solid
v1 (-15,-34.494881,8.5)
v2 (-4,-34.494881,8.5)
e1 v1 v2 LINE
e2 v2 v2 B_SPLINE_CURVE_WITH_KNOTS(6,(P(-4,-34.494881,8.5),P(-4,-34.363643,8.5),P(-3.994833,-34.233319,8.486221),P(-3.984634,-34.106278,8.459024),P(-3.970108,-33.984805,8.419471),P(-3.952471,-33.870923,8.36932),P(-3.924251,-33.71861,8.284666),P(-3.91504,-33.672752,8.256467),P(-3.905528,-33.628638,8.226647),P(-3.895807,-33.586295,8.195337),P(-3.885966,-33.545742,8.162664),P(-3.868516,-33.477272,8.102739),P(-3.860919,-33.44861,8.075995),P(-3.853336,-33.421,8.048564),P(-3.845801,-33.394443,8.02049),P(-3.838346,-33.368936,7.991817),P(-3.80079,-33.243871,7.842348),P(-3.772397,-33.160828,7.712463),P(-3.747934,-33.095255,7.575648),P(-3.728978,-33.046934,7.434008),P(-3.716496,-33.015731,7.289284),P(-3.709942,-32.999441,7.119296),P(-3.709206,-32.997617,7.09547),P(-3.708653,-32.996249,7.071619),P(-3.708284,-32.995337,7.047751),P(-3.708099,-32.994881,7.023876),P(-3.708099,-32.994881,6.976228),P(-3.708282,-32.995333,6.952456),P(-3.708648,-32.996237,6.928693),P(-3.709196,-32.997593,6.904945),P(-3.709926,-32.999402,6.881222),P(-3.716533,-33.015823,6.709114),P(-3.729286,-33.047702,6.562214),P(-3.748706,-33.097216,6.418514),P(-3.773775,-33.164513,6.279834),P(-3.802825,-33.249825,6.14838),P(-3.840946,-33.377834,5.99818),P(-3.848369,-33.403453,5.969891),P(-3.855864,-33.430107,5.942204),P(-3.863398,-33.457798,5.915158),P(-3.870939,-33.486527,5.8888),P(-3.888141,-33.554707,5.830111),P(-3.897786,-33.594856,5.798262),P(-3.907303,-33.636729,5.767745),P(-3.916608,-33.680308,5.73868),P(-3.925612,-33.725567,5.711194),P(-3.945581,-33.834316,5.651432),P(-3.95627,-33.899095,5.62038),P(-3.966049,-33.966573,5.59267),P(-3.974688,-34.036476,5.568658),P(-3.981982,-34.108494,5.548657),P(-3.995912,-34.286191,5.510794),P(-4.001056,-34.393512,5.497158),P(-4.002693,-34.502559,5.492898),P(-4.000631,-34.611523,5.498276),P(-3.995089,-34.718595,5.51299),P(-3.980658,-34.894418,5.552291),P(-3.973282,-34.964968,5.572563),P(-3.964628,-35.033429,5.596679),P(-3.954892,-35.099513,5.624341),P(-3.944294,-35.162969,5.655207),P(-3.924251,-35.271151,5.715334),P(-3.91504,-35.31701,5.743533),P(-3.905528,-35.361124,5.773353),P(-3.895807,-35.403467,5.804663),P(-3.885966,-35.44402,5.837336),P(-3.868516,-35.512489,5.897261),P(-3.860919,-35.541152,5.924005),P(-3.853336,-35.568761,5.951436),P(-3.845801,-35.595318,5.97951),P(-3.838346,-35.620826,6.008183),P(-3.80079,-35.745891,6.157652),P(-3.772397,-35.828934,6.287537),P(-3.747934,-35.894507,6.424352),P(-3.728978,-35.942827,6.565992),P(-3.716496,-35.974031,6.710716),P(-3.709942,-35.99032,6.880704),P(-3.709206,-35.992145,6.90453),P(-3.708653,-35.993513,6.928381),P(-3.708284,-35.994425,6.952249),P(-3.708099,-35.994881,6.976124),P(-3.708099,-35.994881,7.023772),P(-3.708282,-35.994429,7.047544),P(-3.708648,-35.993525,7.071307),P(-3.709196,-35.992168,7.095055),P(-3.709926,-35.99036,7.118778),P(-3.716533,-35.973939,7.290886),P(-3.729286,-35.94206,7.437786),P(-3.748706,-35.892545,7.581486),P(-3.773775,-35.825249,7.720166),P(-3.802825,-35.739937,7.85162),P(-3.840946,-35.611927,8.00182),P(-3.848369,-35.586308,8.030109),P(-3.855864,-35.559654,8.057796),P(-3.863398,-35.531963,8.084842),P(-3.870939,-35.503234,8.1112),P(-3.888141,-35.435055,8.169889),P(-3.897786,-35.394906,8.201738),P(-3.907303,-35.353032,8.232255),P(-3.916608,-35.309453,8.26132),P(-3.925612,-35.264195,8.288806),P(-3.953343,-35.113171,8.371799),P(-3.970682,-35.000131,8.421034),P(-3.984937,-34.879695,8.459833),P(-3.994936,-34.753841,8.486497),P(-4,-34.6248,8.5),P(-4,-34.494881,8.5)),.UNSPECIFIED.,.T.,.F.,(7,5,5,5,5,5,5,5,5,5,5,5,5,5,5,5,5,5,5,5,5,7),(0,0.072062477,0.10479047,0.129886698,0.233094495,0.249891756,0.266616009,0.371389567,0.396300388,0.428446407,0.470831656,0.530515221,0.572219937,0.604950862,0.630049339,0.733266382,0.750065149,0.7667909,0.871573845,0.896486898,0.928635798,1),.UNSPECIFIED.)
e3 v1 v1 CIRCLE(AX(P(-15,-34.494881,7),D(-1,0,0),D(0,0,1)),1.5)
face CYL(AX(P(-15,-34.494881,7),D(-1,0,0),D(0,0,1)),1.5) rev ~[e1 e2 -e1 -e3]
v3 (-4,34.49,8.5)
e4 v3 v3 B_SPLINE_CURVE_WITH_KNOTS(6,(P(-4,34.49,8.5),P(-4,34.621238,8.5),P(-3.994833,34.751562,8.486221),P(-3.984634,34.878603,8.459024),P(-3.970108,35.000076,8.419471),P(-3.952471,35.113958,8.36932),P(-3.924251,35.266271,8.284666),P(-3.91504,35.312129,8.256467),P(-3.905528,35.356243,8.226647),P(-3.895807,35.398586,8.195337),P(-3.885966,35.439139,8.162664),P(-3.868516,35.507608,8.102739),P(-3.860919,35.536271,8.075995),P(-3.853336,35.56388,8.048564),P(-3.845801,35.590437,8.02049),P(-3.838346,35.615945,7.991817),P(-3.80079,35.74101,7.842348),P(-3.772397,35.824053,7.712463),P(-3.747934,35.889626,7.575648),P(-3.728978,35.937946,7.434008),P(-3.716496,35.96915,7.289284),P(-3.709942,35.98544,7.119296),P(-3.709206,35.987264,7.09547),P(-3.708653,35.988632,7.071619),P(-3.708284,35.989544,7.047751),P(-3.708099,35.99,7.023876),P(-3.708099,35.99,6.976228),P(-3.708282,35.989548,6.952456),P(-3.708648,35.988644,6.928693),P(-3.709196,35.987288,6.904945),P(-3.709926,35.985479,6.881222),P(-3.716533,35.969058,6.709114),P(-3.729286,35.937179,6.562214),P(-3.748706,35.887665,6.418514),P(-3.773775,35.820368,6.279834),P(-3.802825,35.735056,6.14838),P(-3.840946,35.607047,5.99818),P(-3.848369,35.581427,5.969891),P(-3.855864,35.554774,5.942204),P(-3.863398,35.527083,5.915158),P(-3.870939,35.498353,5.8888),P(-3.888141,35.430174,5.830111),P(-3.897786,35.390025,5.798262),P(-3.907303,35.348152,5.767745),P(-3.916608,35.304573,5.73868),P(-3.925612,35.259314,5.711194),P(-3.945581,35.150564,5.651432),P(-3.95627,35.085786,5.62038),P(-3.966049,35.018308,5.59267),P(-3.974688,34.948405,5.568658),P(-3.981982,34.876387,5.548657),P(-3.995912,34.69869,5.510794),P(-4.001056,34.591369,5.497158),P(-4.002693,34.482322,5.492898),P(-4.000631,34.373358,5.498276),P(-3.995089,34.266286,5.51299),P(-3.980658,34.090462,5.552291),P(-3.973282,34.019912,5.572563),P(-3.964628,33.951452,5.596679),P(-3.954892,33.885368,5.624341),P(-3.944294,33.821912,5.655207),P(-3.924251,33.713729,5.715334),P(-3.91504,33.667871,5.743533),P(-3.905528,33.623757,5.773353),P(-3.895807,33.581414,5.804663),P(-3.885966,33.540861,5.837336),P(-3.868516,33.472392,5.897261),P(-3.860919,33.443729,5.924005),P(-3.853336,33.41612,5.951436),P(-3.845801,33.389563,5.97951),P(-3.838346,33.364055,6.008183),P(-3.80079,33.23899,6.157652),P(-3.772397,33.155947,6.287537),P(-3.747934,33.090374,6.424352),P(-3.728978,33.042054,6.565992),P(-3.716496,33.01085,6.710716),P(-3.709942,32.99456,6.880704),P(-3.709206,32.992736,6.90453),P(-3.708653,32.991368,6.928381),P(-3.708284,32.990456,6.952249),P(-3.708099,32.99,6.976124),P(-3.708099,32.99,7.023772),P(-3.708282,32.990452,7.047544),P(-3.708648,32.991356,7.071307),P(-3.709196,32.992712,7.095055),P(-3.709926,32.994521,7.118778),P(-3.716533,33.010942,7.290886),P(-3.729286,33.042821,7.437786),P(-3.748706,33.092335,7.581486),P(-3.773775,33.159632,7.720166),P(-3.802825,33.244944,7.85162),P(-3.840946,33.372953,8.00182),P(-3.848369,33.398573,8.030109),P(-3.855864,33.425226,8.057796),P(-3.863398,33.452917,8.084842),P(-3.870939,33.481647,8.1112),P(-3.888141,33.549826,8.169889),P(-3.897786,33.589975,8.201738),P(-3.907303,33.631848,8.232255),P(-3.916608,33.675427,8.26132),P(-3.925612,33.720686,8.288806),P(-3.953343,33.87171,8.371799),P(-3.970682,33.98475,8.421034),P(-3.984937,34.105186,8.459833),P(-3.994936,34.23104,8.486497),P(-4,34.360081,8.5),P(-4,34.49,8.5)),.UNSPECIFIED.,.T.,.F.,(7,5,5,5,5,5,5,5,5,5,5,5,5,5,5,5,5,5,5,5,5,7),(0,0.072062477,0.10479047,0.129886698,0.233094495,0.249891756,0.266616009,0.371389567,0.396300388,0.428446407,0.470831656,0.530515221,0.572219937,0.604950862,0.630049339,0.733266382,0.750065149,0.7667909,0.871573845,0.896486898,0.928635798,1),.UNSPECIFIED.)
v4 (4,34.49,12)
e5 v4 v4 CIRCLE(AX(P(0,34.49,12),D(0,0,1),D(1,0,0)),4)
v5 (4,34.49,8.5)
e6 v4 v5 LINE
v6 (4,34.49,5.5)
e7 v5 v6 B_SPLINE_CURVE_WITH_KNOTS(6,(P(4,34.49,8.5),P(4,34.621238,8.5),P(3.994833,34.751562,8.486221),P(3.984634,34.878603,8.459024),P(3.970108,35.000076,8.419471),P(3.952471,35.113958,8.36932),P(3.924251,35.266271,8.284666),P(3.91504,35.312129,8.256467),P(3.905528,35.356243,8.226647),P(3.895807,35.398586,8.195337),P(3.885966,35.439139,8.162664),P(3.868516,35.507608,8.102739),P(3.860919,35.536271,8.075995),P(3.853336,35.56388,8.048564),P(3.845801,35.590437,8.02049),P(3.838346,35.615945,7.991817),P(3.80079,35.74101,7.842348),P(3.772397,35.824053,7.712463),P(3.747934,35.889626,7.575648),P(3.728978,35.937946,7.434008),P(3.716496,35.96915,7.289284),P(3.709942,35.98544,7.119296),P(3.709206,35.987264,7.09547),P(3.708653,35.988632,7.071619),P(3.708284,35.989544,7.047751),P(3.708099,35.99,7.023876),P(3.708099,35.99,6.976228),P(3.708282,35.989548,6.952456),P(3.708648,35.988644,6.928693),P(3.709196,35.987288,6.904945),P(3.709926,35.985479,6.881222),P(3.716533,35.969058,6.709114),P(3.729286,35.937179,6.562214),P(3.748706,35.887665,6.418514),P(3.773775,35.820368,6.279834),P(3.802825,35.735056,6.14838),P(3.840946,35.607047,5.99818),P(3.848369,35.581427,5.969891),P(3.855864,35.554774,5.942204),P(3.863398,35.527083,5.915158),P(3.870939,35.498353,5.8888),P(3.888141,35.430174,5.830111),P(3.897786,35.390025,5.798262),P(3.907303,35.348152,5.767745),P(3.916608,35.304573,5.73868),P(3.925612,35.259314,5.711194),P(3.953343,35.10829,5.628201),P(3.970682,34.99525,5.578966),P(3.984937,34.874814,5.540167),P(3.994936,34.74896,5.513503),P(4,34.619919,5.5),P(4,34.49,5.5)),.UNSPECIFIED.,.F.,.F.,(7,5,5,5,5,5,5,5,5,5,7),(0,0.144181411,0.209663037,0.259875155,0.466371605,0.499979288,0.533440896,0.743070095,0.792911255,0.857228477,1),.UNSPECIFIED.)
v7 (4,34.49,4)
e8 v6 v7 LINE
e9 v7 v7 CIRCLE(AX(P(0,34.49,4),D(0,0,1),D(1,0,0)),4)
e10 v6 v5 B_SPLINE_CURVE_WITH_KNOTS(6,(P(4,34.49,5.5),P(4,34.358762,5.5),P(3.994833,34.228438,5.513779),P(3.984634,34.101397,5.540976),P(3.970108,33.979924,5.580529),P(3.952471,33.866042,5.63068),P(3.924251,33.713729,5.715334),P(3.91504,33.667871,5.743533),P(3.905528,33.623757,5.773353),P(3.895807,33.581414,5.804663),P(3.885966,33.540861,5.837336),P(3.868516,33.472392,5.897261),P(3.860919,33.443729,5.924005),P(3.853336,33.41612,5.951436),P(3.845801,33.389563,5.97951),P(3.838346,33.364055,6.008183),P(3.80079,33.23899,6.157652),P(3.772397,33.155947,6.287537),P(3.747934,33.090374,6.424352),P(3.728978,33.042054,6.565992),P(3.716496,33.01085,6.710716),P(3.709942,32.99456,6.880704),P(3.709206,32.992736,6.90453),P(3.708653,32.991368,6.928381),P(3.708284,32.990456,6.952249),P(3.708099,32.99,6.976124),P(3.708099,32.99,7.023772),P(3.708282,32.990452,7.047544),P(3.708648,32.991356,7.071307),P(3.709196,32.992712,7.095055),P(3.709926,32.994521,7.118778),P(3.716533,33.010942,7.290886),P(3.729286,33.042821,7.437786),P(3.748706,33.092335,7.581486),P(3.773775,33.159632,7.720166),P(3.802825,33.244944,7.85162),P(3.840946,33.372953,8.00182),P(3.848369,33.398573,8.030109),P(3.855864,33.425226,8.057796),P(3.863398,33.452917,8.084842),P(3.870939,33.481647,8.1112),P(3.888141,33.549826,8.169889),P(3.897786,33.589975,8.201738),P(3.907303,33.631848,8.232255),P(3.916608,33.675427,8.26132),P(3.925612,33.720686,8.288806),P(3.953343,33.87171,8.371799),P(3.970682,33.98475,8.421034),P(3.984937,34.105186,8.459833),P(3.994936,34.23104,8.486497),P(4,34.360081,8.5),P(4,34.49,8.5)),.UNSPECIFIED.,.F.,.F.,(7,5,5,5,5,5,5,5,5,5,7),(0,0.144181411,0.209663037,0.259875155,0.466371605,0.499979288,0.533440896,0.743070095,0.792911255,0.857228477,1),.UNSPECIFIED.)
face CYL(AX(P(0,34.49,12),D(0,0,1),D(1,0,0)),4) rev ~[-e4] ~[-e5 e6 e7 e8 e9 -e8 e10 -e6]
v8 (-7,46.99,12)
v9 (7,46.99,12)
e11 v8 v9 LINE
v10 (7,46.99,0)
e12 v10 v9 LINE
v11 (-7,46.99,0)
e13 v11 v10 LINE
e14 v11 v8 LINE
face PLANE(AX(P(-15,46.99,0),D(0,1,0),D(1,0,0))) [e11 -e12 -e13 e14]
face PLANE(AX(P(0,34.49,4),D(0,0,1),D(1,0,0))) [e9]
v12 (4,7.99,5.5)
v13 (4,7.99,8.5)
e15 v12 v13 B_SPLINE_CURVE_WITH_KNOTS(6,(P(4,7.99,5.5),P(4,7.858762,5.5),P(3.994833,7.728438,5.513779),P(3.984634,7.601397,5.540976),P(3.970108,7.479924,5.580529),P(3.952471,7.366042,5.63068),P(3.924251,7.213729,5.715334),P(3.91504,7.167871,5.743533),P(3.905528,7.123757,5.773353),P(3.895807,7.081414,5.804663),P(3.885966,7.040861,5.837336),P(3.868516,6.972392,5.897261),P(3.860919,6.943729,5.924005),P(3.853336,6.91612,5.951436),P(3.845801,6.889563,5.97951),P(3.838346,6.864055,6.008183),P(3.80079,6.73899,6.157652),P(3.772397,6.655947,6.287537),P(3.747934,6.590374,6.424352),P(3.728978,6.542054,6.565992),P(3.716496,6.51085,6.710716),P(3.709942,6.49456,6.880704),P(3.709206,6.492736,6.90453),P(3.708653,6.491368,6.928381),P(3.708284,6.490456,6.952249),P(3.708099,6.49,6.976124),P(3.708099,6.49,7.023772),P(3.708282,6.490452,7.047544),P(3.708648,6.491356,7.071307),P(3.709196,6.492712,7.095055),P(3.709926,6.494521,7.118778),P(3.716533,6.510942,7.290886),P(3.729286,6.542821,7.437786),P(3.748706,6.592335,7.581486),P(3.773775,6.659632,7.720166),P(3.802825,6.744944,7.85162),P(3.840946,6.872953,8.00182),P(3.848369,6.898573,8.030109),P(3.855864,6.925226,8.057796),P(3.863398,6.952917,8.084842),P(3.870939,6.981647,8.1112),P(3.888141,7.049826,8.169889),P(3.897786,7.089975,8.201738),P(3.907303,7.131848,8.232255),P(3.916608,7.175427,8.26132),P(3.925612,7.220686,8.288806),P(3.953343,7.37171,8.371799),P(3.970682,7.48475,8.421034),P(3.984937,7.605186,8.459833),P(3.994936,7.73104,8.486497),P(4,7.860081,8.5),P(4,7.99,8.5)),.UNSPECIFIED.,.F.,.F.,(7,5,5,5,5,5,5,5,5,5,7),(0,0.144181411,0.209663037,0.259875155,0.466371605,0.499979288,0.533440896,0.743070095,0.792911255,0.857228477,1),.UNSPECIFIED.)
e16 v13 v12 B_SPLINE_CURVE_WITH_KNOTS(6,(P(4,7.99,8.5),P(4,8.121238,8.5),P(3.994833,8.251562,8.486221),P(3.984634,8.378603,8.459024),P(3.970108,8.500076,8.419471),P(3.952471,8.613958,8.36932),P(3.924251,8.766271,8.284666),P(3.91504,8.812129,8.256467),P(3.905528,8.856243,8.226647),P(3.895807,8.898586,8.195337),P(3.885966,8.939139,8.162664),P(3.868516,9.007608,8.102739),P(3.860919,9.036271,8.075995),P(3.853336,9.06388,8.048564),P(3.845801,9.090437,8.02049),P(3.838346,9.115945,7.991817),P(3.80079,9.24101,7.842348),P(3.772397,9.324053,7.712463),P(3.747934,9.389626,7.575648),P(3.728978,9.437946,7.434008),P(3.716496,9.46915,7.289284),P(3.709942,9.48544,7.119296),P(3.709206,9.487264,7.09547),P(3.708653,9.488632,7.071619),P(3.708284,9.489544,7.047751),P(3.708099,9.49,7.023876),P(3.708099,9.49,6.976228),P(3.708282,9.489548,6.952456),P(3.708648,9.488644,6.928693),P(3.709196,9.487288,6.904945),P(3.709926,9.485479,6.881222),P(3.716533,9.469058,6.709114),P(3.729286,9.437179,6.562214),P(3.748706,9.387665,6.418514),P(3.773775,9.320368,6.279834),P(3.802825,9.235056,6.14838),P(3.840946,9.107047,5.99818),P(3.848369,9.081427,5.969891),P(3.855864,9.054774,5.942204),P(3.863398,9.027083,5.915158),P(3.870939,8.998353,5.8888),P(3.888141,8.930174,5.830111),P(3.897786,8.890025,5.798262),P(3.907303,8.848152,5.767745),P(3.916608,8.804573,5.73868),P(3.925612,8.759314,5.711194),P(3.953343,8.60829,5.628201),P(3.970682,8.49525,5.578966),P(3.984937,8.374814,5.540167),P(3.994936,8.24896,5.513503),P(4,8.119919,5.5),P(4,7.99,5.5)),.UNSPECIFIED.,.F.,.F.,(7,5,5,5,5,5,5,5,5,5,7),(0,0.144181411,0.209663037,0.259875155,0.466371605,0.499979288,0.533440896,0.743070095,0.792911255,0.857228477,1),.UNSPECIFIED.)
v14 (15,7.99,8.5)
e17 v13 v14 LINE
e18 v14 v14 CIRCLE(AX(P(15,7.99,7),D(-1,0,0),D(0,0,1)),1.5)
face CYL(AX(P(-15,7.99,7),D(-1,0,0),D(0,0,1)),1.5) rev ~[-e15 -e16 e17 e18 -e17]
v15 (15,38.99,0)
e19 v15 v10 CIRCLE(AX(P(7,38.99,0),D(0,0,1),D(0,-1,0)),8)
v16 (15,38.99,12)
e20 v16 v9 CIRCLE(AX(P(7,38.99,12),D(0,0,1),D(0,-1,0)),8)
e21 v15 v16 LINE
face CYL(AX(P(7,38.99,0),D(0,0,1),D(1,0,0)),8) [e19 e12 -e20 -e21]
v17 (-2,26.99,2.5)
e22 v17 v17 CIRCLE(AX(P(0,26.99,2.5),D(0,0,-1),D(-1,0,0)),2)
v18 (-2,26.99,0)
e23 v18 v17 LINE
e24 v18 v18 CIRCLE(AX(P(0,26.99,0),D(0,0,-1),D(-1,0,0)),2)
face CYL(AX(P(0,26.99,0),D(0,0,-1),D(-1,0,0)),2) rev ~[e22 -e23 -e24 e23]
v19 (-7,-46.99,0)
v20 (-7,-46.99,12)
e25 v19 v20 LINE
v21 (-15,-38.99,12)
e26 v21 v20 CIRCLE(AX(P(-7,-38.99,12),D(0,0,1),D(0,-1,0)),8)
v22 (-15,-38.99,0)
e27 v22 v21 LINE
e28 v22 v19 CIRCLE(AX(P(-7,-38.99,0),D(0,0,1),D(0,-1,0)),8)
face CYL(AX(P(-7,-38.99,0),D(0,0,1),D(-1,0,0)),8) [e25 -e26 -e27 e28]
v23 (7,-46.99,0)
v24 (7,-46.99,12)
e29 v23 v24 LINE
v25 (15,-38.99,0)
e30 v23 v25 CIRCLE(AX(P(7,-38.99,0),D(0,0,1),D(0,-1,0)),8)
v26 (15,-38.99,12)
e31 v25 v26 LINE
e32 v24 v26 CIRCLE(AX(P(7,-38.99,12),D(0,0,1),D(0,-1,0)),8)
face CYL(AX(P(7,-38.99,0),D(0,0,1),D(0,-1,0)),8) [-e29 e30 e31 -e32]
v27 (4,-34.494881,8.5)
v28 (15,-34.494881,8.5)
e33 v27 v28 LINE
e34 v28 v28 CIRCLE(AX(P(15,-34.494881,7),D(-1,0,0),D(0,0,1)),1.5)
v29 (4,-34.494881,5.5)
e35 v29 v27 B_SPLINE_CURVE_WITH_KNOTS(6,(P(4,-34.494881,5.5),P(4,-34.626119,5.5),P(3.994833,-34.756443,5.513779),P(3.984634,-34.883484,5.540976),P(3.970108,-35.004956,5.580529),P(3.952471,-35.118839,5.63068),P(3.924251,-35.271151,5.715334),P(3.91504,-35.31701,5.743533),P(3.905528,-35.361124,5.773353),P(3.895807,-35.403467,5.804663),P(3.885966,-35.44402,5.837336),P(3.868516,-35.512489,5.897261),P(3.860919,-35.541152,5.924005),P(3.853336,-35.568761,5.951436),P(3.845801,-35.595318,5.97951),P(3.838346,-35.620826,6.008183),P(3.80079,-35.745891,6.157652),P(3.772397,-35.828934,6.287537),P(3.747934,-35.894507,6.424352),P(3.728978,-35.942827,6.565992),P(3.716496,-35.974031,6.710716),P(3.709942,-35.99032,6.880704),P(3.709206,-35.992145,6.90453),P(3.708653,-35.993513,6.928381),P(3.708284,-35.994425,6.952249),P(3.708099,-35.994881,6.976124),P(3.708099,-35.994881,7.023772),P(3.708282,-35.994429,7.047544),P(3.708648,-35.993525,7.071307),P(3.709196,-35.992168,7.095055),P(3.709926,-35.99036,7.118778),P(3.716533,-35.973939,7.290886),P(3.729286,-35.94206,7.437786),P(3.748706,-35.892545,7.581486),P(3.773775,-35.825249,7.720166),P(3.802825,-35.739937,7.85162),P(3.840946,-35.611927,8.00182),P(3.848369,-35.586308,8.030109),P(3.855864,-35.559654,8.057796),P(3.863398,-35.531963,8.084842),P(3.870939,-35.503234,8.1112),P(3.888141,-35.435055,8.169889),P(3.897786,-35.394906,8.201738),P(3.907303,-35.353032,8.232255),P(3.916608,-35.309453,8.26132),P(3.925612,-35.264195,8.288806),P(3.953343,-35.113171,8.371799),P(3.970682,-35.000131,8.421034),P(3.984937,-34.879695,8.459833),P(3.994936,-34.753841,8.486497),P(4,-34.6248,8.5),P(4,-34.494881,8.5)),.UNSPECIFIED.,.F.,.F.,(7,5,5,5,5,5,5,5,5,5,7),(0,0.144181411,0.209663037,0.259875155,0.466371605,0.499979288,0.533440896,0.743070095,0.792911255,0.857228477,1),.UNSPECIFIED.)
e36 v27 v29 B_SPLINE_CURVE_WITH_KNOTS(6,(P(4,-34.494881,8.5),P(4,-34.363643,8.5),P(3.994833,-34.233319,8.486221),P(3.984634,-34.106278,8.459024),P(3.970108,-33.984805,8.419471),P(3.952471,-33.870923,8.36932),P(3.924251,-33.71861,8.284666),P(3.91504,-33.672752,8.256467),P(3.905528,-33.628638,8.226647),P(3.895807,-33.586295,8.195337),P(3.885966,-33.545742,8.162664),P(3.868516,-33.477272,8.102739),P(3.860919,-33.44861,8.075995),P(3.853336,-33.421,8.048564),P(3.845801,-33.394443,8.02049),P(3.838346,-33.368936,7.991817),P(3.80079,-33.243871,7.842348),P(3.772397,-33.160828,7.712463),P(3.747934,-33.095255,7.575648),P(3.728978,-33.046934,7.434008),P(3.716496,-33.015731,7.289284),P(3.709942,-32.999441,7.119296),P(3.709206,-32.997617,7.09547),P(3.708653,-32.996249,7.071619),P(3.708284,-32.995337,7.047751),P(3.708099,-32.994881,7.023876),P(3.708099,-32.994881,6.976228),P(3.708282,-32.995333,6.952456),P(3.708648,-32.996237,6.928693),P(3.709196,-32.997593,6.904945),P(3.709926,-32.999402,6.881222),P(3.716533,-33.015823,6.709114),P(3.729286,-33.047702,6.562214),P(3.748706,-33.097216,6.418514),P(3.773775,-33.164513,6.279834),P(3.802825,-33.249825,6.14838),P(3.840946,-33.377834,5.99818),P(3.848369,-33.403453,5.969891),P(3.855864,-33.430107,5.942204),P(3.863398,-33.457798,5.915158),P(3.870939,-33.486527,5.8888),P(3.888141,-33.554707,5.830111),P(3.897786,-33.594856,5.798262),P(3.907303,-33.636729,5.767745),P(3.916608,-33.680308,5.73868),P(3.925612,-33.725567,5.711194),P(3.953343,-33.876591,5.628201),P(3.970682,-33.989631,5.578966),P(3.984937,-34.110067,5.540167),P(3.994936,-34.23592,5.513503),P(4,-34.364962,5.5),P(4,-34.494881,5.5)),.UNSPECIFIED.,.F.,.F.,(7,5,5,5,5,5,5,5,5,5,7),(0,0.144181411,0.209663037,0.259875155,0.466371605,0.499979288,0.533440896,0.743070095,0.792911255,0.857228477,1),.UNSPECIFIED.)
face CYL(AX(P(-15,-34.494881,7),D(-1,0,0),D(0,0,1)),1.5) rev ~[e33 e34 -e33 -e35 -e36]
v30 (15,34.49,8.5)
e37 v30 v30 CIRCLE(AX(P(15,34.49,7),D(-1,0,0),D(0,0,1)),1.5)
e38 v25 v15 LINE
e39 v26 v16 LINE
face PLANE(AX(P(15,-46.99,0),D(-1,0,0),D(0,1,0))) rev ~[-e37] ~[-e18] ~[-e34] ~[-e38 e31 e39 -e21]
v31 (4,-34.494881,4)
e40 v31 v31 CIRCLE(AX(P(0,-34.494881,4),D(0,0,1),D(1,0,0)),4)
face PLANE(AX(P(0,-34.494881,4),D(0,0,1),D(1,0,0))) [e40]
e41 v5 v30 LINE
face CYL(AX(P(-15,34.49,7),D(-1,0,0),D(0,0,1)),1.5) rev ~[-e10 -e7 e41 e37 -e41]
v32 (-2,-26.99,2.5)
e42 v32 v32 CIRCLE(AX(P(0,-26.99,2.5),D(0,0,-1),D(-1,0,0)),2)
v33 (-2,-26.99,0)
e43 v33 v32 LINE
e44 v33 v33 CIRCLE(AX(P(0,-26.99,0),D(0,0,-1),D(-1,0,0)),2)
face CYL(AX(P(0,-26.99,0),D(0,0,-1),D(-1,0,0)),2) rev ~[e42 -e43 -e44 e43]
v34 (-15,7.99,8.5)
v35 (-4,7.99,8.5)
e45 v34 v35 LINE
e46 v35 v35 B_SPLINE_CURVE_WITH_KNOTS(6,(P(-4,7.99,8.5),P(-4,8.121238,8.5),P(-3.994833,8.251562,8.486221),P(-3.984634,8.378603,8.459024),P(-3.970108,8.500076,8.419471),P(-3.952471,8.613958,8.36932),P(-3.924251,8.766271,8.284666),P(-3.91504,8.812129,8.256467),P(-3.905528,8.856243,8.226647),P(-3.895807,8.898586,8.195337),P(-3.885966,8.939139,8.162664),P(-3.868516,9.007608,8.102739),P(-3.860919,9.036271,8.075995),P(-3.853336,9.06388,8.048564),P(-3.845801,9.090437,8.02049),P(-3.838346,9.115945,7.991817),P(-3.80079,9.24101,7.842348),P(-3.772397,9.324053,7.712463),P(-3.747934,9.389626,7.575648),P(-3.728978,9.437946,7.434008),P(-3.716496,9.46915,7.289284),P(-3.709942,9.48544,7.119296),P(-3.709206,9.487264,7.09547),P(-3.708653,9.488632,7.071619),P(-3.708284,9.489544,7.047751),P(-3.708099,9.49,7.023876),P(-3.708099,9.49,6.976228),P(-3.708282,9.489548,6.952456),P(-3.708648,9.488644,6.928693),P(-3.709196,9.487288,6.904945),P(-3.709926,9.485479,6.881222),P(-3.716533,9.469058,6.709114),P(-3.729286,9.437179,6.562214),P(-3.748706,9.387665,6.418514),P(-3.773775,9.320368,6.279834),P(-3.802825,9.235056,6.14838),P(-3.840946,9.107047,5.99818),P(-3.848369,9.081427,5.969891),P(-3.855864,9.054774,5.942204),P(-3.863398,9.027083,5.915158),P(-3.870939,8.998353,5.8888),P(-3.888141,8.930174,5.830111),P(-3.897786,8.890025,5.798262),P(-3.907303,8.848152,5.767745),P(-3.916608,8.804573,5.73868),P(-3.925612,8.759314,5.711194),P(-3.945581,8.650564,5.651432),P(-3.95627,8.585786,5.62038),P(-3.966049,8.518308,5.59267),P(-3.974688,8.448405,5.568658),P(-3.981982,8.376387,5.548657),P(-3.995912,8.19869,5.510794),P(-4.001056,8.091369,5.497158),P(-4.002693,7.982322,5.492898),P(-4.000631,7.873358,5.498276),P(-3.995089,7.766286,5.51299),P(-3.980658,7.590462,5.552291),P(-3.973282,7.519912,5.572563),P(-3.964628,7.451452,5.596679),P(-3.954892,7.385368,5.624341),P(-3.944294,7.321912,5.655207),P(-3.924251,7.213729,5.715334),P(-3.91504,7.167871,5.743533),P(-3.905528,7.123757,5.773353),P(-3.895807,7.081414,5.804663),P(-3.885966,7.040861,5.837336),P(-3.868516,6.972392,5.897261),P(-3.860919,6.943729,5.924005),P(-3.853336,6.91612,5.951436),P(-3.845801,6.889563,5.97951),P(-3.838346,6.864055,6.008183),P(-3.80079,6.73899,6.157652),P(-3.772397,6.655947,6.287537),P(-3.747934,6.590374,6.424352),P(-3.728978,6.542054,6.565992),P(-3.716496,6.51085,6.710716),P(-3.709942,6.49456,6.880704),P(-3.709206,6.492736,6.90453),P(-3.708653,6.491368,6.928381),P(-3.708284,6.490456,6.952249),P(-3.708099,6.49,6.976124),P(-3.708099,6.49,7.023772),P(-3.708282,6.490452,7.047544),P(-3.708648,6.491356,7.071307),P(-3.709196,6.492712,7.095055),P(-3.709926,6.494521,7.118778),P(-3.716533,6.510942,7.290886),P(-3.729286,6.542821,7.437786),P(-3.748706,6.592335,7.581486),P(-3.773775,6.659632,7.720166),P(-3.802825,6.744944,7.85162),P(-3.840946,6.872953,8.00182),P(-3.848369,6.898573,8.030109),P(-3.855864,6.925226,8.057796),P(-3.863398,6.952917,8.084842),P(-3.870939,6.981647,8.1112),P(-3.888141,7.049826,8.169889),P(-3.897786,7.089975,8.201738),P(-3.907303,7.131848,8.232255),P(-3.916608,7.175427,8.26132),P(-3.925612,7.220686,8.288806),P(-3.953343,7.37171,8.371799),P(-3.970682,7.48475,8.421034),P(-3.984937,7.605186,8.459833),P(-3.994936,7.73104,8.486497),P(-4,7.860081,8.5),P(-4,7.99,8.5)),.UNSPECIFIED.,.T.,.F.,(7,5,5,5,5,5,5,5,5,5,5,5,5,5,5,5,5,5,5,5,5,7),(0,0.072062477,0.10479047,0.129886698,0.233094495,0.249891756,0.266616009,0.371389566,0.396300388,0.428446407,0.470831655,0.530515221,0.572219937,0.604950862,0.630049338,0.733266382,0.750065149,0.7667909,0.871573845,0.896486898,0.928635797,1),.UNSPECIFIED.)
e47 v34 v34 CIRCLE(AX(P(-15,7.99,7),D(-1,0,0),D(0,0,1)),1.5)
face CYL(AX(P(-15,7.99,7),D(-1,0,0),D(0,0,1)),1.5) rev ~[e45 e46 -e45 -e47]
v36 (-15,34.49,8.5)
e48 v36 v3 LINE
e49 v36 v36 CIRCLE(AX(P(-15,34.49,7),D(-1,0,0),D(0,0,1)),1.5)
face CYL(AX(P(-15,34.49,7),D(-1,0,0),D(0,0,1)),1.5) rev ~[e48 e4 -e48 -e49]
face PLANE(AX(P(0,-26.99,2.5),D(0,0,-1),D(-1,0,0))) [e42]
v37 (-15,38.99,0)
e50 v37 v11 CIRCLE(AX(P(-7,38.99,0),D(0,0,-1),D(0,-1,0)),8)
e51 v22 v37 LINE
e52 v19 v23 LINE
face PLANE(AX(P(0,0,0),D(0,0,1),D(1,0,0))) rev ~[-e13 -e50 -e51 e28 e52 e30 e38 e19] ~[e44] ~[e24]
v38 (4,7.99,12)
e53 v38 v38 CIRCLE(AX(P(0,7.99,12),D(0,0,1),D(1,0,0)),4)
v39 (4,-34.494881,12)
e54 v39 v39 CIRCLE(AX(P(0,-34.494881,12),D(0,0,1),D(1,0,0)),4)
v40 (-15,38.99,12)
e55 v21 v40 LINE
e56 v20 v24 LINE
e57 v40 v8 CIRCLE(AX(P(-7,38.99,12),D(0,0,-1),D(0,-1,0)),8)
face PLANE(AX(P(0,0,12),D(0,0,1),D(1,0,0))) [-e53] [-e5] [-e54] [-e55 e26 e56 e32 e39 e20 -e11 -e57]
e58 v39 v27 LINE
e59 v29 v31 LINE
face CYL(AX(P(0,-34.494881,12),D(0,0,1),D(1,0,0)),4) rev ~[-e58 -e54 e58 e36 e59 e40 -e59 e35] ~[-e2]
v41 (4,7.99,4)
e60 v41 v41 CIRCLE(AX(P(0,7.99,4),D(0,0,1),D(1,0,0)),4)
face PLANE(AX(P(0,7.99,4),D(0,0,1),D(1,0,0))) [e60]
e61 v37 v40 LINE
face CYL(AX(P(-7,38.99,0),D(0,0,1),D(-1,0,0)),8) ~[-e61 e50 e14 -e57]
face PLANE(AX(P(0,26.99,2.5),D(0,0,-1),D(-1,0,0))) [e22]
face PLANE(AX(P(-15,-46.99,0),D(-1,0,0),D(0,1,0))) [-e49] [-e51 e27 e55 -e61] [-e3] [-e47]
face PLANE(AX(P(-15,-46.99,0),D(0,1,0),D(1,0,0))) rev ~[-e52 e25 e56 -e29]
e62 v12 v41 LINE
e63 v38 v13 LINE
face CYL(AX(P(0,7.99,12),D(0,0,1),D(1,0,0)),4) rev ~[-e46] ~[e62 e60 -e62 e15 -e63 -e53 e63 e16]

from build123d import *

# Parameters (mm, degrees)
SKETCH1_W           = 30
SKETCH1_H           = 93.98
BOSS_EXTRUDE1_DEPTH = 12
FILLET1_R           = 8
SKETCH2_R           = 4
CUT_EXTRUDE1_DEPTH  = 8
SKETCH3_R           = 1.5
CUT_EXTRUDE2_DEPTH  = 31
SKETCH4_R           = 2
CUT_EXTRUDE3_DEPTH  = 2.5


with BuildPart() as part:
    # Sketch1 → Boss-Extrude1 (new body)
    with BuildSketch(Plane.XY):
        Rectangle(SKETCH1_W, SKETCH1_H)
    extrude(amount=BOSS_EXTRUDE1_DEPTH)

    # Fillet1
    fillet1_edges = [part.edges().sort_by_distance(p)[0] for p in [
        (15, -46.99, 6),
        (-15, -46.99, 6),
        (-15, 46.99, 6),
        (15, 46.99, 6),
    ]]
    fillet(fillet1_edges, radius=FILLET1_R)

    # Sketch2 → Cut-Extrude1 (cut)
    with BuildSketch(Plane.XY.offset(12)):
        with Locations((0, 7.99)):
            Circle(SKETCH2_R)
        with Locations((0, 34.49)):
            Circle(SKETCH2_R)
        with Locations((0, -34.494880812)):
            Circle(SKETCH2_R)
    extrude(amount=-CUT_EXTRUDE1_DEPTH, mode=Mode.SUBTRACT)

    # Sketch3 → Cut-Extrude2 (cut, through all)
    with BuildSketch(Plane.ZY.offset(15)):
        with Locations((7, 34.49)):
            Circle(SKETCH3_R)
        with Locations((7, 7.99)):
            Circle(SKETCH3_R)
        with Locations((7, -34.494880812)):
            Circle(SKETCH3_R)
    extrude(amount=-CUT_EXTRUDE2_DEPTH, mode=Mode.SUBTRACT)

    # Sketch4 → Cut-Extrude3 (cut)
    with BuildSketch(Plane(origin=(0, 0, 0), x_dir=(-1, 0, 0), z_dir=(0, 0, -1))):
        with Locations((0, -26.99)):
            Circle(SKETCH4_R)
        with Locations((0, 26.99)):
            Circle(SKETCH4_R)
    extrude(amount=-CUT_EXTRUDE3_DEPTH, mode=Mode.SUBTRACT)


solid = part.part
